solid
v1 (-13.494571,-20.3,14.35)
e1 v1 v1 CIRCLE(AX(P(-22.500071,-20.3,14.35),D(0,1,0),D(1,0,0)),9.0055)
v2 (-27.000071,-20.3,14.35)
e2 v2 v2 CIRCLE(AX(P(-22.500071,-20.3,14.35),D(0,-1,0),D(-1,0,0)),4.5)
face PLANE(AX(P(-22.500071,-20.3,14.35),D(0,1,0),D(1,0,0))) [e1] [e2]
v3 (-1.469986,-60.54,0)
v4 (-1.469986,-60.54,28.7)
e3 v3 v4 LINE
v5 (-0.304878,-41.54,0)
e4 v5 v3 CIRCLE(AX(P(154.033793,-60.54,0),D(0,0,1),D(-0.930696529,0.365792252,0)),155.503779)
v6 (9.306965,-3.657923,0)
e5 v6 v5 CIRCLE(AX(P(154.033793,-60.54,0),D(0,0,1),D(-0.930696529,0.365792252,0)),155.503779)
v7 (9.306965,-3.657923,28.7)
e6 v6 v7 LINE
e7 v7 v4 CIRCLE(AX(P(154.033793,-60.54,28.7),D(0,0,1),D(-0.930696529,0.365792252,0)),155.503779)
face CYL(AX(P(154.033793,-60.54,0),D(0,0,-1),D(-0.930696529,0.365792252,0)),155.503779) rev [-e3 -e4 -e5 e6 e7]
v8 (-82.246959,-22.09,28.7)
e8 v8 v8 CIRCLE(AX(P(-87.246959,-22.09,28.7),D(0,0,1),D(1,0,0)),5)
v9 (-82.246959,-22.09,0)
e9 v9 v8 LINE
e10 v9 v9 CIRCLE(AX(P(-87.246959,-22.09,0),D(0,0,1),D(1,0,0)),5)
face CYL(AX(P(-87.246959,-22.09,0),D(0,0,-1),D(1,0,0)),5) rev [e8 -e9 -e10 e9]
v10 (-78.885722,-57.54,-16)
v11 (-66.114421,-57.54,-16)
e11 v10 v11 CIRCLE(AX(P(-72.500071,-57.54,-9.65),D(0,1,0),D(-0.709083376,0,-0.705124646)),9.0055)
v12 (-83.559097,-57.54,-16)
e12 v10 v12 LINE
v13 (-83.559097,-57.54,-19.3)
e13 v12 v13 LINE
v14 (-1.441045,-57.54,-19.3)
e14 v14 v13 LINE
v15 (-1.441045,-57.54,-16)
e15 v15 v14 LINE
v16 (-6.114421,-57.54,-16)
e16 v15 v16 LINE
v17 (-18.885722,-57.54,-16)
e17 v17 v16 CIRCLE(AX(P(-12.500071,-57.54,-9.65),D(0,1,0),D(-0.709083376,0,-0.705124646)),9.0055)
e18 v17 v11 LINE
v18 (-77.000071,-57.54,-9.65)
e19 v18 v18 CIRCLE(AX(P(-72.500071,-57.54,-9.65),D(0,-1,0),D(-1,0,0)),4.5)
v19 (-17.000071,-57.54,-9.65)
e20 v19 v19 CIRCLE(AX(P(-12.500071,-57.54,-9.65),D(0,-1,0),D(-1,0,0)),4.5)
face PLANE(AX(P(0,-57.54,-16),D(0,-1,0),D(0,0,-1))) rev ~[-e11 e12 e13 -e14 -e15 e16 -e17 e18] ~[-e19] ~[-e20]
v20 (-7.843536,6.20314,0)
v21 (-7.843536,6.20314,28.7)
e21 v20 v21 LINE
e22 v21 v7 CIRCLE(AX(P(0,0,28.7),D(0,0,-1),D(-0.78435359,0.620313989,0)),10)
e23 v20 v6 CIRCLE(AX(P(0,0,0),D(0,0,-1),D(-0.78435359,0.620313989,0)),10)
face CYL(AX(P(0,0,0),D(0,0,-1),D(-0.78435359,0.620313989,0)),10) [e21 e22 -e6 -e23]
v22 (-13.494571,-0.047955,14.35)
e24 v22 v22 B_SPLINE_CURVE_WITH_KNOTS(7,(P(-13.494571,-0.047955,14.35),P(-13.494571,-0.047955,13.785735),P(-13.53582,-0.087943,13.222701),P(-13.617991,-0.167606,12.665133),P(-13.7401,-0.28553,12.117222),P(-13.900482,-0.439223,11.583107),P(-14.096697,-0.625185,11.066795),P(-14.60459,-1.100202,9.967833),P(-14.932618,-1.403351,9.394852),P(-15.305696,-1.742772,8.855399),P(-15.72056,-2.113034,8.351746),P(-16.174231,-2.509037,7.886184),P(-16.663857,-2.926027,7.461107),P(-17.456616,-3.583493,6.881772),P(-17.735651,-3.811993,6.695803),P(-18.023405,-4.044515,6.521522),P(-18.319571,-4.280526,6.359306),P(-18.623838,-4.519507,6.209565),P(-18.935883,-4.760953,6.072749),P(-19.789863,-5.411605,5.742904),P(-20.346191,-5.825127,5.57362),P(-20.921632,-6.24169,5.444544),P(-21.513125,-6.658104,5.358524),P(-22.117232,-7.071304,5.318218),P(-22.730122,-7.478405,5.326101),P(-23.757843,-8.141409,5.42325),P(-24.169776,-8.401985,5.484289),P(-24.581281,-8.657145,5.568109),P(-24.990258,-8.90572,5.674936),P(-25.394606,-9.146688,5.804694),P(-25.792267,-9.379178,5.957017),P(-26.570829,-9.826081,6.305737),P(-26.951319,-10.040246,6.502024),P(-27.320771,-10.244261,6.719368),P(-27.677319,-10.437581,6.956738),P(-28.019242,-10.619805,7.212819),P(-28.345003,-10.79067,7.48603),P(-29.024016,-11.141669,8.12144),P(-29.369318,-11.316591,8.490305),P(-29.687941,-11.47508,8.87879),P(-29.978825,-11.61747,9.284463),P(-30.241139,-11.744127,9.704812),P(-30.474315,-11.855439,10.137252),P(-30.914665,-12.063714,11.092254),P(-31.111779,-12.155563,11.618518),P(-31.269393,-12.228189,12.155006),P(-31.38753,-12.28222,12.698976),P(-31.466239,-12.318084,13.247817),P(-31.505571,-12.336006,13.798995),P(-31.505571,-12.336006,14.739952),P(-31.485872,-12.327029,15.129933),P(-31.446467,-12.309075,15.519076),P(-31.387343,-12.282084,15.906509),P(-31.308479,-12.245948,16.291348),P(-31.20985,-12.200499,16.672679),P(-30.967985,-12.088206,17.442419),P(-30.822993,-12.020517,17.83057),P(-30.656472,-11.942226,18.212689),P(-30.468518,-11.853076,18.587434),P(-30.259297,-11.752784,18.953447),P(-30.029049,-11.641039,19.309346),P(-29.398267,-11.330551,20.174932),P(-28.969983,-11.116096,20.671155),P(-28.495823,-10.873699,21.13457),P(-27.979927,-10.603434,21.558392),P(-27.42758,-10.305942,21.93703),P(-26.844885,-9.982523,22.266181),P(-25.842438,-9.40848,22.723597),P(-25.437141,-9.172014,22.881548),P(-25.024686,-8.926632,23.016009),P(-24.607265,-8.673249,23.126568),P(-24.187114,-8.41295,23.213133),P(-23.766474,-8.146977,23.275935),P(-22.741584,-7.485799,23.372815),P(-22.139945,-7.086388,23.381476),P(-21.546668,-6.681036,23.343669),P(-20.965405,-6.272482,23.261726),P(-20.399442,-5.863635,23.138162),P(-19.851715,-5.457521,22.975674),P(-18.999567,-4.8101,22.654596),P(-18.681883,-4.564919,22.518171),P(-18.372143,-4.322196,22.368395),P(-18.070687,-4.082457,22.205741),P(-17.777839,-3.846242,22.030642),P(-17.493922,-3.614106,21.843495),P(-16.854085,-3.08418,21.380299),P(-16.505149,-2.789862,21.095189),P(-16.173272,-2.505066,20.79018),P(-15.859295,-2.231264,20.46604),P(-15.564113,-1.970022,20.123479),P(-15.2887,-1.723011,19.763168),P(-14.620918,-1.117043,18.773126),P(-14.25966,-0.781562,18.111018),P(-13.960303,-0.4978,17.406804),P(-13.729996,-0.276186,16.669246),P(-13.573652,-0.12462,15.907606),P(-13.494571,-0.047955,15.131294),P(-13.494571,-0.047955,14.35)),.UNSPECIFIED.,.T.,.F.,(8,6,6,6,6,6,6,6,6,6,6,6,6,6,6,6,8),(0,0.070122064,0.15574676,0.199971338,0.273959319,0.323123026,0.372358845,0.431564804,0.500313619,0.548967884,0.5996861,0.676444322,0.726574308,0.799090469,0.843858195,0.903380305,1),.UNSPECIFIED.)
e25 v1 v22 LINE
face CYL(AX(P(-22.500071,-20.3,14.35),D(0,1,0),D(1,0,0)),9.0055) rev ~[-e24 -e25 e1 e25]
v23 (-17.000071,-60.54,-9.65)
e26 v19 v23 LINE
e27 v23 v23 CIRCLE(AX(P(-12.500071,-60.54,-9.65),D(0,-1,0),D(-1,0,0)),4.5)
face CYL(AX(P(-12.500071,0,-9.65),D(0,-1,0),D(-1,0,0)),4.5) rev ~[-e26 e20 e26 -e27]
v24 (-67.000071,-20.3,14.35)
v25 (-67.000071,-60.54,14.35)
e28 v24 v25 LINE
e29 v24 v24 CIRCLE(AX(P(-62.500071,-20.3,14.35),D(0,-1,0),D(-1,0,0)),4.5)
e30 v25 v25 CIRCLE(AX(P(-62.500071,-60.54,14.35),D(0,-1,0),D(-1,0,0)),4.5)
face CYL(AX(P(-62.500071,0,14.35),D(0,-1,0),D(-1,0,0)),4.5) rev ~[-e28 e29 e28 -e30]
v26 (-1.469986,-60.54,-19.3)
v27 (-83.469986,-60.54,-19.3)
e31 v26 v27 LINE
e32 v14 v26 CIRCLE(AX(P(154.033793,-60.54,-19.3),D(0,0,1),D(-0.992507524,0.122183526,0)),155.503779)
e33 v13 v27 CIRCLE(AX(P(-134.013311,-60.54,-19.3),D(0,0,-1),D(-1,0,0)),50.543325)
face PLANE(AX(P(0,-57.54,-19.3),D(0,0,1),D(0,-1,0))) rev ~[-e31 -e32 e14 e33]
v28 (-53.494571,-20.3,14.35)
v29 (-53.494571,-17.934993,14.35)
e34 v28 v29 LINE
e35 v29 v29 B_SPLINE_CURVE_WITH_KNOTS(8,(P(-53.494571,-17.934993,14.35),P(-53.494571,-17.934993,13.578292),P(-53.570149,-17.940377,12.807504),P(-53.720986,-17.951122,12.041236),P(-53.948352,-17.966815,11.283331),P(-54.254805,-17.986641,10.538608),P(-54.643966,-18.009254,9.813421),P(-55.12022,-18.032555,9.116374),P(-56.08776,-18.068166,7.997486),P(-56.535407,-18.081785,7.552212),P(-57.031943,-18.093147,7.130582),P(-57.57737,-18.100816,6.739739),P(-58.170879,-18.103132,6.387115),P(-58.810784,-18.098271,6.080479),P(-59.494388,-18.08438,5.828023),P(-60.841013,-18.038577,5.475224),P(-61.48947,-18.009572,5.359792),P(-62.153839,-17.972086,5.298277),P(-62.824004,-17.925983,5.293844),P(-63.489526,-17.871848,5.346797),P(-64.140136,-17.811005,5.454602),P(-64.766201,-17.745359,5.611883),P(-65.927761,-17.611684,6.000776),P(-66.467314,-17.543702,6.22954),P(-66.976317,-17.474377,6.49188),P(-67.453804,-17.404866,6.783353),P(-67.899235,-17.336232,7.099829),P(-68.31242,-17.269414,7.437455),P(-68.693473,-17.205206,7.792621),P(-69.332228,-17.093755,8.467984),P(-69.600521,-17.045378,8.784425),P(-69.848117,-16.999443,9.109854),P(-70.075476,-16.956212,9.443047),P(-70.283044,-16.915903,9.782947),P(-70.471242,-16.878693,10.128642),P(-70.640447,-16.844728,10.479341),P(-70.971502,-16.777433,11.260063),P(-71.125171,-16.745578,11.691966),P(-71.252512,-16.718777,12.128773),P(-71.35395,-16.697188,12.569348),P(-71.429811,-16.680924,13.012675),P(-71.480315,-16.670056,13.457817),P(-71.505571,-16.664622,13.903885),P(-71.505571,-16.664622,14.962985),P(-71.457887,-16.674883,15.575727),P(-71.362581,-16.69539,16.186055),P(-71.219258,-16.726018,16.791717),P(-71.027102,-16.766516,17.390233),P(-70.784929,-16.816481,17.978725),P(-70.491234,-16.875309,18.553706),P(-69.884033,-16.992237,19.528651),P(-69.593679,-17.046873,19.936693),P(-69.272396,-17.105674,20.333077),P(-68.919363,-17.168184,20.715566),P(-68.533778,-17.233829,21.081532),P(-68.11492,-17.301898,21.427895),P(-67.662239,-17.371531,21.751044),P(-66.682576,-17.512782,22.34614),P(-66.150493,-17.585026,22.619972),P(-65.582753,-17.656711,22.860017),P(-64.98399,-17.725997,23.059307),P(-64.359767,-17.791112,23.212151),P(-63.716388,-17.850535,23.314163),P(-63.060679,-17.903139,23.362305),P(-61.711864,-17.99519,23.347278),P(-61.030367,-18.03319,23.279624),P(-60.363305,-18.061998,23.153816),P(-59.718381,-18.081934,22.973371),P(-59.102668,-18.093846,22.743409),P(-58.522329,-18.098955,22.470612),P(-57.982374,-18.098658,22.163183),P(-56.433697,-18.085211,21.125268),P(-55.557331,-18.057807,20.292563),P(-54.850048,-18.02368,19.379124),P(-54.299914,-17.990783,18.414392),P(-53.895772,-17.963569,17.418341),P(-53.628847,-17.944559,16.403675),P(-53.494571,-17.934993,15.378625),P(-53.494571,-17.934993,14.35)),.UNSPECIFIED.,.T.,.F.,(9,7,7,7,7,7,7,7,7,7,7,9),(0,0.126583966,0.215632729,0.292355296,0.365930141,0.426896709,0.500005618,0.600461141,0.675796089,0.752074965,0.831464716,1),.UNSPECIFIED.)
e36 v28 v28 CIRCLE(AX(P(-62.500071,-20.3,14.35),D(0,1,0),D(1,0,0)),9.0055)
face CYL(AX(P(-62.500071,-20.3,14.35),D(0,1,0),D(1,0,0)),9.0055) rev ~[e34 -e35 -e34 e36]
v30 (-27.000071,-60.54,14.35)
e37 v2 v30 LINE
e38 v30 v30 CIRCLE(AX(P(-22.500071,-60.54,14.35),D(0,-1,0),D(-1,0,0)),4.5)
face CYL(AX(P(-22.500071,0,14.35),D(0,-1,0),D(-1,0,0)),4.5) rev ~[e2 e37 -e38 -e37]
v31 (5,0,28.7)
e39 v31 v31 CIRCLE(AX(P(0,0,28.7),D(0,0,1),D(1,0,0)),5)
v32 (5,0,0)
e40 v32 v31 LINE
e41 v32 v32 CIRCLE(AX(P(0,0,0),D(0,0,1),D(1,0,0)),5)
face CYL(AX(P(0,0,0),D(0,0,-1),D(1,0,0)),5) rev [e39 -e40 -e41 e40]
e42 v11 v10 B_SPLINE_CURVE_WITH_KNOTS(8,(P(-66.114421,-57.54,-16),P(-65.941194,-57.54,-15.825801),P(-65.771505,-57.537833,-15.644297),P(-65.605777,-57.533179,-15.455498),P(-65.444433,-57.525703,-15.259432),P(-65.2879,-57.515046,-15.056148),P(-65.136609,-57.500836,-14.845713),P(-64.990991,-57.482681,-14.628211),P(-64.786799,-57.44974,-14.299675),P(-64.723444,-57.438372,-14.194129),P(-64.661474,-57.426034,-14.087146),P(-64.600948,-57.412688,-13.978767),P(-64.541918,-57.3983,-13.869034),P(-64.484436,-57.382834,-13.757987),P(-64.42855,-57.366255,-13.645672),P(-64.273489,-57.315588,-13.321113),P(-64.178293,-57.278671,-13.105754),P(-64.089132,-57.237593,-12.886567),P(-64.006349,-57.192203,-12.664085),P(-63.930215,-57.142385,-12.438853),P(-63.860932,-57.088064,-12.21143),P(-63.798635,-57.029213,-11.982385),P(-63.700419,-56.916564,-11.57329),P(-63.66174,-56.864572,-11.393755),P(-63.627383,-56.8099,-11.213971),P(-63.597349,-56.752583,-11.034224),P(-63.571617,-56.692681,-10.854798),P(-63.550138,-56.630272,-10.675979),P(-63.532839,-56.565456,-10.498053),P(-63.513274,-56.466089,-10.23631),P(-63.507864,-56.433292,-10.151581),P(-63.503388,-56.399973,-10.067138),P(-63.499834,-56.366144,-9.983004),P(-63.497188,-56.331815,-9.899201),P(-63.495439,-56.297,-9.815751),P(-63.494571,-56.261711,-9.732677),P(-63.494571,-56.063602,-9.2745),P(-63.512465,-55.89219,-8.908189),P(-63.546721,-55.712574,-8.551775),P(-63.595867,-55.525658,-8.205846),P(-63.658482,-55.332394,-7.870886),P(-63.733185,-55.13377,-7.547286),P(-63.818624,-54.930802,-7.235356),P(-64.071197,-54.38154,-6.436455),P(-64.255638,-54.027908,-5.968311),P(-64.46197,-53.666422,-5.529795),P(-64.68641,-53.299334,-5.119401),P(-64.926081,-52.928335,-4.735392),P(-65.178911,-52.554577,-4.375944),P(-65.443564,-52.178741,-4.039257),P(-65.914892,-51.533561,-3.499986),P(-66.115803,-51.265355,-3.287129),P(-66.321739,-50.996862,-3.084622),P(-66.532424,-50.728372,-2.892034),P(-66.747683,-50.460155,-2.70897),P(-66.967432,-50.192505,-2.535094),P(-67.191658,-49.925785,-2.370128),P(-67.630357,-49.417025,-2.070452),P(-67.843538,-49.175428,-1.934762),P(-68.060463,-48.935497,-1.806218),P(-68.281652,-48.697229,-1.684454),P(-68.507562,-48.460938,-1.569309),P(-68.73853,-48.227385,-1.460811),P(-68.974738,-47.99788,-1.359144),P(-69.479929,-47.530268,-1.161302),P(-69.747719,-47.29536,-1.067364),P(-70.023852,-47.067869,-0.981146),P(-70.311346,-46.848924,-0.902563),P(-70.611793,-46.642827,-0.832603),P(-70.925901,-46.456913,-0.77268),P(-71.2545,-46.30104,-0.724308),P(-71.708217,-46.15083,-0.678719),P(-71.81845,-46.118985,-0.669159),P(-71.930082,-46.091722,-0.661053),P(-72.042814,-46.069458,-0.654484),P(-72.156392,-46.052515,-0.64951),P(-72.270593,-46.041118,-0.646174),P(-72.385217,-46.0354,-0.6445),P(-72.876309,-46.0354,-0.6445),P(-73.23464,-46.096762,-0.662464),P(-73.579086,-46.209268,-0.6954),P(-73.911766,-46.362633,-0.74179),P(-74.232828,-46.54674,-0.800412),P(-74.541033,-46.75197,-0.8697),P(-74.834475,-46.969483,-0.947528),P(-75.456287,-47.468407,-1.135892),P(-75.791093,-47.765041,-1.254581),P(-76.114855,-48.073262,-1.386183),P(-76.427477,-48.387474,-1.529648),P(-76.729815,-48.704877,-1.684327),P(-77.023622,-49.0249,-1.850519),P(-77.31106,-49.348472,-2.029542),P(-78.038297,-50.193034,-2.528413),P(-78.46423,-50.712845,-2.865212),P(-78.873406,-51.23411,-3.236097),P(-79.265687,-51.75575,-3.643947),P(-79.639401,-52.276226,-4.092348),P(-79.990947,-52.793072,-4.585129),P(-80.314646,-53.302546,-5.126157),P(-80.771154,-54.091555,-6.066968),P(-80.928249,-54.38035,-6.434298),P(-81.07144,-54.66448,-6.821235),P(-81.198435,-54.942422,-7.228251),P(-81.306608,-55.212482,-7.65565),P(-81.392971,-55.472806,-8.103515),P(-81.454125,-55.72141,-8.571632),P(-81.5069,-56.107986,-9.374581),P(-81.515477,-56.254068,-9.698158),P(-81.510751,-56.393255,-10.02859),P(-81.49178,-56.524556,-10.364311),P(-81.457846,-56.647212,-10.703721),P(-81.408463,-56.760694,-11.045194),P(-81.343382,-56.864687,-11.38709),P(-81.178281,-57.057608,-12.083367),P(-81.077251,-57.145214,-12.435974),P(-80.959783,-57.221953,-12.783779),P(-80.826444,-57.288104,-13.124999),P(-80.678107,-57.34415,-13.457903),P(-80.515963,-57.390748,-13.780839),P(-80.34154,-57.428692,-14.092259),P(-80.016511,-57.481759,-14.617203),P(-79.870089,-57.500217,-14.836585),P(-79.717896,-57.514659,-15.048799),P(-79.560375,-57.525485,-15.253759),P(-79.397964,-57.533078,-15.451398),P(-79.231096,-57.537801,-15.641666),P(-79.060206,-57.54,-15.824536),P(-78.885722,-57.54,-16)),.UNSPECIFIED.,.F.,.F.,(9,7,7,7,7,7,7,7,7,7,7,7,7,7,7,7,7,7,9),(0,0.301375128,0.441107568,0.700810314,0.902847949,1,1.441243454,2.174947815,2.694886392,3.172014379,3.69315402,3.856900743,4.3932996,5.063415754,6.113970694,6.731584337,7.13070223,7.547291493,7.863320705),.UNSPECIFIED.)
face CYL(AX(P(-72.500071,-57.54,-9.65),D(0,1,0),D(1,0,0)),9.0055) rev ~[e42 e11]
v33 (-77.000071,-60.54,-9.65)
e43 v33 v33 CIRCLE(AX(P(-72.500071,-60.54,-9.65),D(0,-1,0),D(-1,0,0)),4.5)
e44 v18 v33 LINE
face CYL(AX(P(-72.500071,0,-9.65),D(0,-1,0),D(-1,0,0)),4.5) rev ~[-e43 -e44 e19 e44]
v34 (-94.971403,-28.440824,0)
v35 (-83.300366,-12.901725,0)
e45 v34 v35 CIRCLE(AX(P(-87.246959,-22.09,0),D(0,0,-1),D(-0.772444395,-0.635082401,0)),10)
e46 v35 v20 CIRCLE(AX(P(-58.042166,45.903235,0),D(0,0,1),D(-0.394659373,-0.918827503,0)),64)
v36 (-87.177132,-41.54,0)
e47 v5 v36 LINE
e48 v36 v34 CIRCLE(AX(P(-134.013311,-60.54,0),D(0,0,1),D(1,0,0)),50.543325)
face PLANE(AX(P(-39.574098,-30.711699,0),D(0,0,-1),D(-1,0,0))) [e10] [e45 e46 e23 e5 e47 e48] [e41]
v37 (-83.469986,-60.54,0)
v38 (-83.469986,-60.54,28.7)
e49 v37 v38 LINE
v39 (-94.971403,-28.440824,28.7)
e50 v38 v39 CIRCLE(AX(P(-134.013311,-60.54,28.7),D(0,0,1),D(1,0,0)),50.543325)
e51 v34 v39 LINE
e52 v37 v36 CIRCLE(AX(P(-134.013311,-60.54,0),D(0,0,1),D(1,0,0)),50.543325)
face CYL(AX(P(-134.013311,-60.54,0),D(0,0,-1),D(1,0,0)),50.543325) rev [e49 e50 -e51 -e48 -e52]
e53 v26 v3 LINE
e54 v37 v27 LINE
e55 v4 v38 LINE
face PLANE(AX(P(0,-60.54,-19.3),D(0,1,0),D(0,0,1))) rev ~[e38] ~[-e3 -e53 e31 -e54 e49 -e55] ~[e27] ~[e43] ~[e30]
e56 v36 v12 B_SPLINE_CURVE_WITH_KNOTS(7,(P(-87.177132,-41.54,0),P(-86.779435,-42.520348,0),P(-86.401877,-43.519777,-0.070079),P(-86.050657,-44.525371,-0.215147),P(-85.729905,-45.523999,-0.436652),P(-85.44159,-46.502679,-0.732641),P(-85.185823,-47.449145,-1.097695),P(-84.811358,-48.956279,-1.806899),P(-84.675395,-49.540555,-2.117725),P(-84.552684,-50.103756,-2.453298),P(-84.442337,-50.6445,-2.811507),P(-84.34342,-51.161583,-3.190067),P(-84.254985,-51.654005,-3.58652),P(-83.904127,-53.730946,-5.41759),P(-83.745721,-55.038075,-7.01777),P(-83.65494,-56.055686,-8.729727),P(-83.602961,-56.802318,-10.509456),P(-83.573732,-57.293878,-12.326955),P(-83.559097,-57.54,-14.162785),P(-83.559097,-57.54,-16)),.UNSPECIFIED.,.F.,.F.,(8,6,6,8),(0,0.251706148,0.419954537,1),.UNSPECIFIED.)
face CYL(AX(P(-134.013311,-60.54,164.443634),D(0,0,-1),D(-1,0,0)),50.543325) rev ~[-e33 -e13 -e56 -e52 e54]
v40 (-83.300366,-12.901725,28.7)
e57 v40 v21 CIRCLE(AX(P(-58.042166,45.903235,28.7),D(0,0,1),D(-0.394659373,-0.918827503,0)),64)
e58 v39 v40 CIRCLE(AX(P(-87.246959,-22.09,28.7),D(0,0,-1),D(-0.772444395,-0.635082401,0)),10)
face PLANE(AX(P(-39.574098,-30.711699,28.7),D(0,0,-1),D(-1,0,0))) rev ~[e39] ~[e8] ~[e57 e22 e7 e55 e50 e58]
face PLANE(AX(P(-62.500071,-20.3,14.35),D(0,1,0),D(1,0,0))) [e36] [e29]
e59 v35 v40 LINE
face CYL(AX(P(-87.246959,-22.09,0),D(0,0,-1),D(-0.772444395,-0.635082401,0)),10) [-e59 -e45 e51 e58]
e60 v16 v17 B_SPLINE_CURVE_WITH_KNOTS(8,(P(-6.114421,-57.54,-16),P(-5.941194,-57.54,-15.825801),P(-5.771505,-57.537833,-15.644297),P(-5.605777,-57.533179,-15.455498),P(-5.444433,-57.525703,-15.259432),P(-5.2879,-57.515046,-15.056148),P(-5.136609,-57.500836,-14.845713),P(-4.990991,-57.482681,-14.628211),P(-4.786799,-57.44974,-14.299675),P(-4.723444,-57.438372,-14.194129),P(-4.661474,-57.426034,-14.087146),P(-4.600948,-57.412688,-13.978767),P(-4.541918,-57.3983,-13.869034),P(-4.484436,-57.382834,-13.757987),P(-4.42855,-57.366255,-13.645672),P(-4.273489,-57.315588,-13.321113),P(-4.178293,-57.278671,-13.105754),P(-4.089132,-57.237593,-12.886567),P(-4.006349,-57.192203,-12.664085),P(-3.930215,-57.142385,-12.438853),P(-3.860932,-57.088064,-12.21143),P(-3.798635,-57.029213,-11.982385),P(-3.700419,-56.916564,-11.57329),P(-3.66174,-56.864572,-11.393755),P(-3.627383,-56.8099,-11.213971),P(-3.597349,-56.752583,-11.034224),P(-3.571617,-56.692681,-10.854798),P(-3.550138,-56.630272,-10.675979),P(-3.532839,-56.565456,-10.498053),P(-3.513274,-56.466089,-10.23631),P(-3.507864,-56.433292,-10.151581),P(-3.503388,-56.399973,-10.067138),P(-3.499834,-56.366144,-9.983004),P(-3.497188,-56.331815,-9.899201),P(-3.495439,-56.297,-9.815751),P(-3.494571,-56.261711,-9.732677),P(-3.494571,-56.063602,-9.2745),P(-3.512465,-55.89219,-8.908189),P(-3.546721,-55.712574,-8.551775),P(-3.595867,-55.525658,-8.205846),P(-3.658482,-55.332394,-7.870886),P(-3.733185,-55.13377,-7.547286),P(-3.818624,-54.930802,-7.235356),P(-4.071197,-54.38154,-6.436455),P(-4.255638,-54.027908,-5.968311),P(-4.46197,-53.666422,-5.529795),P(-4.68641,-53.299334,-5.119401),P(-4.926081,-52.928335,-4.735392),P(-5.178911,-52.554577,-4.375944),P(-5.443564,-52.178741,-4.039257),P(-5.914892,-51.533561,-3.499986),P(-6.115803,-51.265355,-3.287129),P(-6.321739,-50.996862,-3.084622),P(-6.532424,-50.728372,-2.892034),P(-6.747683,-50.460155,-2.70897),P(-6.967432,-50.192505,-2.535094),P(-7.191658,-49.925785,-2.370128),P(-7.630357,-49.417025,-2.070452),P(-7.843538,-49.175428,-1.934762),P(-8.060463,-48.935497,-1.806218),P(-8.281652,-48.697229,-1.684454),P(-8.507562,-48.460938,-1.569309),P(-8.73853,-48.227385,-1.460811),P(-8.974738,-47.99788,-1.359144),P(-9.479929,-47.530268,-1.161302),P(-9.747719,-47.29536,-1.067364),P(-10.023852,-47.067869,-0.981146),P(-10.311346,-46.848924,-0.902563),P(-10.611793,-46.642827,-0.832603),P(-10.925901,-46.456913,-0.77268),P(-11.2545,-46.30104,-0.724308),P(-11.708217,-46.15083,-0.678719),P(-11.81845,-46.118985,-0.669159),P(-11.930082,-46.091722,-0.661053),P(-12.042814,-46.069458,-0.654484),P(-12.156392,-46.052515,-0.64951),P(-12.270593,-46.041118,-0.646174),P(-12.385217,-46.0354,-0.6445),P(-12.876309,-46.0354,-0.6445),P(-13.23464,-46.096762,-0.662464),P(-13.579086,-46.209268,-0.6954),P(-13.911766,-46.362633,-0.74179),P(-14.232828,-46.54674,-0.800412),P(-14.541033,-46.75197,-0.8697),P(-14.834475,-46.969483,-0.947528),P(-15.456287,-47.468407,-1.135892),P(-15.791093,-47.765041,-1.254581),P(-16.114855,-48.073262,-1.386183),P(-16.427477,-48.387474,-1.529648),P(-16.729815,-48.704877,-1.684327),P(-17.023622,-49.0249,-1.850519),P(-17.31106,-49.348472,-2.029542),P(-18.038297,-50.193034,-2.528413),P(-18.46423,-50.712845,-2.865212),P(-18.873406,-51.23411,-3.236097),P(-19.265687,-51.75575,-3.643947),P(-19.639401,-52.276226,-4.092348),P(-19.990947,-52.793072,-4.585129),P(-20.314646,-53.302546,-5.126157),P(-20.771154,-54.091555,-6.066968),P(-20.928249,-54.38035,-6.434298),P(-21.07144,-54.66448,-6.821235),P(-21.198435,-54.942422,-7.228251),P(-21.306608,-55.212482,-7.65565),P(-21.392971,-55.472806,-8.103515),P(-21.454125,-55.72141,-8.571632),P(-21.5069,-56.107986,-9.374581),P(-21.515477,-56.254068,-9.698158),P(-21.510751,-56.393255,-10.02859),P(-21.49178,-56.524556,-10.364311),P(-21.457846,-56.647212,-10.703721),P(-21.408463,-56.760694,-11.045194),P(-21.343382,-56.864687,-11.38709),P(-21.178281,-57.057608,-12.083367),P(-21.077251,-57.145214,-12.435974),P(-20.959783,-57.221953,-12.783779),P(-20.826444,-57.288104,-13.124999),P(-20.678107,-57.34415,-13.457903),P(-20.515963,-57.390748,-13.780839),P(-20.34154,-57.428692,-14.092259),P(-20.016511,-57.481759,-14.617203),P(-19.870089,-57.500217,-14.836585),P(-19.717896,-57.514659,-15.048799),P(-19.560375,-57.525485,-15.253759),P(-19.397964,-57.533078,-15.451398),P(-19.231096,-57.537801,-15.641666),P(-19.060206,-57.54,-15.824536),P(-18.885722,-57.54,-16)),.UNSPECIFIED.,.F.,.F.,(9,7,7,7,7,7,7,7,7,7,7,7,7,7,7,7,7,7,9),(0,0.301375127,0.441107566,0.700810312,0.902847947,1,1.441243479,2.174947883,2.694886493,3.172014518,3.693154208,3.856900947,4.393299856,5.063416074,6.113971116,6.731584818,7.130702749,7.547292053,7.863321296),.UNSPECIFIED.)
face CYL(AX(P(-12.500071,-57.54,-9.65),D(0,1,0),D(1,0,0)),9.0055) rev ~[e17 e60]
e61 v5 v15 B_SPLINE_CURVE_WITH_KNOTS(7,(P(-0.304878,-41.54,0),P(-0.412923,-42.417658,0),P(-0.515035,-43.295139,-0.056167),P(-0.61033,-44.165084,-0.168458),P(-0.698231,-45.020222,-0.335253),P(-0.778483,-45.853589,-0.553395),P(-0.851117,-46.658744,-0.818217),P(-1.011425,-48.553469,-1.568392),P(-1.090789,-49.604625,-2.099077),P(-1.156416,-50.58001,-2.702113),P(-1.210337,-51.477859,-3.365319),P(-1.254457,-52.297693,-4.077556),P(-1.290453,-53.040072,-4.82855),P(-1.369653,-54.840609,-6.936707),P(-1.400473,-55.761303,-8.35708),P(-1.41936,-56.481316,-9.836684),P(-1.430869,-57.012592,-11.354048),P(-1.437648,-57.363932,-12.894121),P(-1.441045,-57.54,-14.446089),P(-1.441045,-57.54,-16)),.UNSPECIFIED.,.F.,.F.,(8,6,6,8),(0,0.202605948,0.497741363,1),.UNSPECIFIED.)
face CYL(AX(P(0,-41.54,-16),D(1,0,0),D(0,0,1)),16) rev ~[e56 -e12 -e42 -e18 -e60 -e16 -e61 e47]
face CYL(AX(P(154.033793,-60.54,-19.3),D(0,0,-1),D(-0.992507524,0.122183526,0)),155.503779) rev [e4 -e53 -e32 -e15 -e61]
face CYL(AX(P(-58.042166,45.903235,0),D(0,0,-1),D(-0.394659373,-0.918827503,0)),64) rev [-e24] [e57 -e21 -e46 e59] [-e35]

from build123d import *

# Parameters (mm, degrees)
SZKIC1_R                                            = 5
DODANIE_WYCI_GNI_CIE1_DEPTH                         = 28.7
DODANIE_WYCI_GNI_CIE2_REACH                         = 120.092
DODANIE_WYCI_GNI_CIE2_END_RADIUS                    = 50.543324632
WYTNIJ_WYCI_GNI_CIE1_START                          = -19.3
WYTNIJ_WYCI_GNI_CIE1_DEPTH                          = 19.3
POG_BIENIE_WALCOWE_POD_M8_WKR_T_Z_BEM_S_D           = 9
POG_BIENIE_WALCOWE_POD_M8_WKR_T_Z_BEM_S_CBORE_D     = 18.011
POG_BIENIE_WALCOWE_POD_M8_WKR_T_Z_BEM_S_CBORE_DEPTH = 20.3
POG_BIENIE_WALCOWE_POD_M8_WKR_T_Z_B_2_D             = 9
POG_BIENIE_WALCOWE_POD_M8_WKR_T_Z_B_2_CBORE_D       = 18.011
POG_BIENIE_WALCOWE_POD_M8_WKR_T_Z_B_2_CBORE_DEPTH   = 57.54


with BuildPart() as part:
    # Szkic1 → Dodanie-wyciągnięcie1 (new body)
    with BuildSketch(Plane.XY):
        with BuildLine():
            Line((-1.469986393, -60.54), (-83.469986393, -60.54))
            ThreePointArc((-83.469986393, -60.54), (-86.43214098, -43.49124867), (-94.971403209, -28.440824015))
            ThreePointArc((-94.971403209, -28.440824015), (-95.242829308, -16.084497343), (-83.300365534, -12.901724973))
            ThreePointArc((-83.300365534, -12.901724973), (-42.333721248, -16.139046942), (-7.843535904, 6.203139892))
            ThreePointArc((-7.843535904, 6.203139892), (4.984530504, 8.669166953), (9.306965288, -3.657922516))
            ThreePointArc((9.306965288, -3.657922516), (1.248004894, -31.593007814), (-1.469986393, -60.54))
        make_face()
        with Locations((-87.246959259, -22.09)):
            Circle(SZKIC1_R, mode=Mode.SUBTRACT)
        Circle(SZKIC1_R, mode=Mode.SUBTRACT)
    extrude(amount=DODANIE_WYCI_GNI_CIE1_DEPTH)

    # Dodanie-wyciągnięcie2: up to this cylinder (the profile starts outside it)
    dodanie_wyci_gni_cie2_end = Plane(origin=(-134.013311026, -60.54, -6.691691), z_dir=(0, 0, -1)) * Cylinder(DODANIE_WYCI_GNI_CIE2_END_RADIUS, 342.270649265, mode=Mode.PRIVATE)
    # Szkic3 → Dodanie-wyciągnięcie2 (add, up to the surface)
    with BuildSketch(Plane(origin=(0, 0, 0), x_dir=(0, 0, -1), z_dir=(1, 0, 0)), mode=Mode.PRIVATE) as dodanie_wyci_gni_cie2_sk1:
        with BuildLine():
            Line((0, -60.54), (0, -41.54))
            ThreePointArc((0, -41.54), (4.686291501, -52.853708499), (16, -57.54))
            Line((16, -57.54), (19.3, -57.54))
            Line((19.3, -57.54), (19.3, -60.54))
            Line((19.3, -60.54), (0, -60.54))
        make_face()
    dodanie_wyci_gni_cie2_tool1 = extrude(dodanie_wyci_gni_cie2_sk1.sketch, amount=-DODANIE_WYCI_GNI_CIE2_REACH, mode=Mode.PRIVATE) - dodanie_wyci_gni_cie2_end
    add(dodanie_wyci_gni_cie2_tool1.solids().sort_by_distance((0, -56.56965, -6.691691))[0])

    # Szkic4 → Wytnij-wyciągnięcie1 (cut)
    with BuildSketch(Plane.XY.offset(WYTNIJ_WYCI_GNI_CIE1_START)):
        with BuildLine():
            Line((-1.469986393, -60.54), (0, -60.54))
            Line((0, -60.54), (0, -41.54))
            Line((0, -41.54), (-0.304878126, -41.54))
            ThreePointArc((-0.304878126, -41.54), (-1.178436016, -51.022155217), (-1.469986393, -60.54))
        make_face()
    extrude(amount=WYTNIJ_WYCI_GNI_CIE1_DEPTH, mode=Mode.SUBTRACT)

    # Pog_bienie walcowe pod M8 Wkr_t z _bem s (through all)
    with Locations(Plane(origin=(0, 0, 0), x_dir=(1, 0, 0), z_dir=(0, 1, 0))):
        with Locations((-62.500071487, -14.35), (-22.500071487, -14.35)):
            CounterBoreHole(POG_BIENIE_WALCOWE_POD_M8_WKR_T_Z_BEM_S_D / 2, POG_BIENIE_WALCOWE_POD_M8_WKR_T_Z_BEM_S_CBORE_D / 2, POG_BIENIE_WALCOWE_POD_M8_WKR_T_Z_BEM_S_CBORE_DEPTH)

    # Pog_bienie walcowe pod M8 Wkr_t z _b 2 (through all)
    with Locations(Plane(origin=(0, 0, 0), x_dir=(1, 0, 0), z_dir=(0, 1, 0))):
        with Locations((-72.500071487, 9.65), (-12.500071487, 9.65)):
            CounterBoreHole(POG_BIENIE_WALCOWE_POD_M8_WKR_T_Z_B_2_D / 2, POG_BIENIE_WALCOWE_POD_M8_WKR_T_Z_B_2_CBORE_D / 2, POG_BIENIE_WALCOWE_POD_M8_WKR_T_Z_B_2_CBORE_DEPTH)


solid = part.part
